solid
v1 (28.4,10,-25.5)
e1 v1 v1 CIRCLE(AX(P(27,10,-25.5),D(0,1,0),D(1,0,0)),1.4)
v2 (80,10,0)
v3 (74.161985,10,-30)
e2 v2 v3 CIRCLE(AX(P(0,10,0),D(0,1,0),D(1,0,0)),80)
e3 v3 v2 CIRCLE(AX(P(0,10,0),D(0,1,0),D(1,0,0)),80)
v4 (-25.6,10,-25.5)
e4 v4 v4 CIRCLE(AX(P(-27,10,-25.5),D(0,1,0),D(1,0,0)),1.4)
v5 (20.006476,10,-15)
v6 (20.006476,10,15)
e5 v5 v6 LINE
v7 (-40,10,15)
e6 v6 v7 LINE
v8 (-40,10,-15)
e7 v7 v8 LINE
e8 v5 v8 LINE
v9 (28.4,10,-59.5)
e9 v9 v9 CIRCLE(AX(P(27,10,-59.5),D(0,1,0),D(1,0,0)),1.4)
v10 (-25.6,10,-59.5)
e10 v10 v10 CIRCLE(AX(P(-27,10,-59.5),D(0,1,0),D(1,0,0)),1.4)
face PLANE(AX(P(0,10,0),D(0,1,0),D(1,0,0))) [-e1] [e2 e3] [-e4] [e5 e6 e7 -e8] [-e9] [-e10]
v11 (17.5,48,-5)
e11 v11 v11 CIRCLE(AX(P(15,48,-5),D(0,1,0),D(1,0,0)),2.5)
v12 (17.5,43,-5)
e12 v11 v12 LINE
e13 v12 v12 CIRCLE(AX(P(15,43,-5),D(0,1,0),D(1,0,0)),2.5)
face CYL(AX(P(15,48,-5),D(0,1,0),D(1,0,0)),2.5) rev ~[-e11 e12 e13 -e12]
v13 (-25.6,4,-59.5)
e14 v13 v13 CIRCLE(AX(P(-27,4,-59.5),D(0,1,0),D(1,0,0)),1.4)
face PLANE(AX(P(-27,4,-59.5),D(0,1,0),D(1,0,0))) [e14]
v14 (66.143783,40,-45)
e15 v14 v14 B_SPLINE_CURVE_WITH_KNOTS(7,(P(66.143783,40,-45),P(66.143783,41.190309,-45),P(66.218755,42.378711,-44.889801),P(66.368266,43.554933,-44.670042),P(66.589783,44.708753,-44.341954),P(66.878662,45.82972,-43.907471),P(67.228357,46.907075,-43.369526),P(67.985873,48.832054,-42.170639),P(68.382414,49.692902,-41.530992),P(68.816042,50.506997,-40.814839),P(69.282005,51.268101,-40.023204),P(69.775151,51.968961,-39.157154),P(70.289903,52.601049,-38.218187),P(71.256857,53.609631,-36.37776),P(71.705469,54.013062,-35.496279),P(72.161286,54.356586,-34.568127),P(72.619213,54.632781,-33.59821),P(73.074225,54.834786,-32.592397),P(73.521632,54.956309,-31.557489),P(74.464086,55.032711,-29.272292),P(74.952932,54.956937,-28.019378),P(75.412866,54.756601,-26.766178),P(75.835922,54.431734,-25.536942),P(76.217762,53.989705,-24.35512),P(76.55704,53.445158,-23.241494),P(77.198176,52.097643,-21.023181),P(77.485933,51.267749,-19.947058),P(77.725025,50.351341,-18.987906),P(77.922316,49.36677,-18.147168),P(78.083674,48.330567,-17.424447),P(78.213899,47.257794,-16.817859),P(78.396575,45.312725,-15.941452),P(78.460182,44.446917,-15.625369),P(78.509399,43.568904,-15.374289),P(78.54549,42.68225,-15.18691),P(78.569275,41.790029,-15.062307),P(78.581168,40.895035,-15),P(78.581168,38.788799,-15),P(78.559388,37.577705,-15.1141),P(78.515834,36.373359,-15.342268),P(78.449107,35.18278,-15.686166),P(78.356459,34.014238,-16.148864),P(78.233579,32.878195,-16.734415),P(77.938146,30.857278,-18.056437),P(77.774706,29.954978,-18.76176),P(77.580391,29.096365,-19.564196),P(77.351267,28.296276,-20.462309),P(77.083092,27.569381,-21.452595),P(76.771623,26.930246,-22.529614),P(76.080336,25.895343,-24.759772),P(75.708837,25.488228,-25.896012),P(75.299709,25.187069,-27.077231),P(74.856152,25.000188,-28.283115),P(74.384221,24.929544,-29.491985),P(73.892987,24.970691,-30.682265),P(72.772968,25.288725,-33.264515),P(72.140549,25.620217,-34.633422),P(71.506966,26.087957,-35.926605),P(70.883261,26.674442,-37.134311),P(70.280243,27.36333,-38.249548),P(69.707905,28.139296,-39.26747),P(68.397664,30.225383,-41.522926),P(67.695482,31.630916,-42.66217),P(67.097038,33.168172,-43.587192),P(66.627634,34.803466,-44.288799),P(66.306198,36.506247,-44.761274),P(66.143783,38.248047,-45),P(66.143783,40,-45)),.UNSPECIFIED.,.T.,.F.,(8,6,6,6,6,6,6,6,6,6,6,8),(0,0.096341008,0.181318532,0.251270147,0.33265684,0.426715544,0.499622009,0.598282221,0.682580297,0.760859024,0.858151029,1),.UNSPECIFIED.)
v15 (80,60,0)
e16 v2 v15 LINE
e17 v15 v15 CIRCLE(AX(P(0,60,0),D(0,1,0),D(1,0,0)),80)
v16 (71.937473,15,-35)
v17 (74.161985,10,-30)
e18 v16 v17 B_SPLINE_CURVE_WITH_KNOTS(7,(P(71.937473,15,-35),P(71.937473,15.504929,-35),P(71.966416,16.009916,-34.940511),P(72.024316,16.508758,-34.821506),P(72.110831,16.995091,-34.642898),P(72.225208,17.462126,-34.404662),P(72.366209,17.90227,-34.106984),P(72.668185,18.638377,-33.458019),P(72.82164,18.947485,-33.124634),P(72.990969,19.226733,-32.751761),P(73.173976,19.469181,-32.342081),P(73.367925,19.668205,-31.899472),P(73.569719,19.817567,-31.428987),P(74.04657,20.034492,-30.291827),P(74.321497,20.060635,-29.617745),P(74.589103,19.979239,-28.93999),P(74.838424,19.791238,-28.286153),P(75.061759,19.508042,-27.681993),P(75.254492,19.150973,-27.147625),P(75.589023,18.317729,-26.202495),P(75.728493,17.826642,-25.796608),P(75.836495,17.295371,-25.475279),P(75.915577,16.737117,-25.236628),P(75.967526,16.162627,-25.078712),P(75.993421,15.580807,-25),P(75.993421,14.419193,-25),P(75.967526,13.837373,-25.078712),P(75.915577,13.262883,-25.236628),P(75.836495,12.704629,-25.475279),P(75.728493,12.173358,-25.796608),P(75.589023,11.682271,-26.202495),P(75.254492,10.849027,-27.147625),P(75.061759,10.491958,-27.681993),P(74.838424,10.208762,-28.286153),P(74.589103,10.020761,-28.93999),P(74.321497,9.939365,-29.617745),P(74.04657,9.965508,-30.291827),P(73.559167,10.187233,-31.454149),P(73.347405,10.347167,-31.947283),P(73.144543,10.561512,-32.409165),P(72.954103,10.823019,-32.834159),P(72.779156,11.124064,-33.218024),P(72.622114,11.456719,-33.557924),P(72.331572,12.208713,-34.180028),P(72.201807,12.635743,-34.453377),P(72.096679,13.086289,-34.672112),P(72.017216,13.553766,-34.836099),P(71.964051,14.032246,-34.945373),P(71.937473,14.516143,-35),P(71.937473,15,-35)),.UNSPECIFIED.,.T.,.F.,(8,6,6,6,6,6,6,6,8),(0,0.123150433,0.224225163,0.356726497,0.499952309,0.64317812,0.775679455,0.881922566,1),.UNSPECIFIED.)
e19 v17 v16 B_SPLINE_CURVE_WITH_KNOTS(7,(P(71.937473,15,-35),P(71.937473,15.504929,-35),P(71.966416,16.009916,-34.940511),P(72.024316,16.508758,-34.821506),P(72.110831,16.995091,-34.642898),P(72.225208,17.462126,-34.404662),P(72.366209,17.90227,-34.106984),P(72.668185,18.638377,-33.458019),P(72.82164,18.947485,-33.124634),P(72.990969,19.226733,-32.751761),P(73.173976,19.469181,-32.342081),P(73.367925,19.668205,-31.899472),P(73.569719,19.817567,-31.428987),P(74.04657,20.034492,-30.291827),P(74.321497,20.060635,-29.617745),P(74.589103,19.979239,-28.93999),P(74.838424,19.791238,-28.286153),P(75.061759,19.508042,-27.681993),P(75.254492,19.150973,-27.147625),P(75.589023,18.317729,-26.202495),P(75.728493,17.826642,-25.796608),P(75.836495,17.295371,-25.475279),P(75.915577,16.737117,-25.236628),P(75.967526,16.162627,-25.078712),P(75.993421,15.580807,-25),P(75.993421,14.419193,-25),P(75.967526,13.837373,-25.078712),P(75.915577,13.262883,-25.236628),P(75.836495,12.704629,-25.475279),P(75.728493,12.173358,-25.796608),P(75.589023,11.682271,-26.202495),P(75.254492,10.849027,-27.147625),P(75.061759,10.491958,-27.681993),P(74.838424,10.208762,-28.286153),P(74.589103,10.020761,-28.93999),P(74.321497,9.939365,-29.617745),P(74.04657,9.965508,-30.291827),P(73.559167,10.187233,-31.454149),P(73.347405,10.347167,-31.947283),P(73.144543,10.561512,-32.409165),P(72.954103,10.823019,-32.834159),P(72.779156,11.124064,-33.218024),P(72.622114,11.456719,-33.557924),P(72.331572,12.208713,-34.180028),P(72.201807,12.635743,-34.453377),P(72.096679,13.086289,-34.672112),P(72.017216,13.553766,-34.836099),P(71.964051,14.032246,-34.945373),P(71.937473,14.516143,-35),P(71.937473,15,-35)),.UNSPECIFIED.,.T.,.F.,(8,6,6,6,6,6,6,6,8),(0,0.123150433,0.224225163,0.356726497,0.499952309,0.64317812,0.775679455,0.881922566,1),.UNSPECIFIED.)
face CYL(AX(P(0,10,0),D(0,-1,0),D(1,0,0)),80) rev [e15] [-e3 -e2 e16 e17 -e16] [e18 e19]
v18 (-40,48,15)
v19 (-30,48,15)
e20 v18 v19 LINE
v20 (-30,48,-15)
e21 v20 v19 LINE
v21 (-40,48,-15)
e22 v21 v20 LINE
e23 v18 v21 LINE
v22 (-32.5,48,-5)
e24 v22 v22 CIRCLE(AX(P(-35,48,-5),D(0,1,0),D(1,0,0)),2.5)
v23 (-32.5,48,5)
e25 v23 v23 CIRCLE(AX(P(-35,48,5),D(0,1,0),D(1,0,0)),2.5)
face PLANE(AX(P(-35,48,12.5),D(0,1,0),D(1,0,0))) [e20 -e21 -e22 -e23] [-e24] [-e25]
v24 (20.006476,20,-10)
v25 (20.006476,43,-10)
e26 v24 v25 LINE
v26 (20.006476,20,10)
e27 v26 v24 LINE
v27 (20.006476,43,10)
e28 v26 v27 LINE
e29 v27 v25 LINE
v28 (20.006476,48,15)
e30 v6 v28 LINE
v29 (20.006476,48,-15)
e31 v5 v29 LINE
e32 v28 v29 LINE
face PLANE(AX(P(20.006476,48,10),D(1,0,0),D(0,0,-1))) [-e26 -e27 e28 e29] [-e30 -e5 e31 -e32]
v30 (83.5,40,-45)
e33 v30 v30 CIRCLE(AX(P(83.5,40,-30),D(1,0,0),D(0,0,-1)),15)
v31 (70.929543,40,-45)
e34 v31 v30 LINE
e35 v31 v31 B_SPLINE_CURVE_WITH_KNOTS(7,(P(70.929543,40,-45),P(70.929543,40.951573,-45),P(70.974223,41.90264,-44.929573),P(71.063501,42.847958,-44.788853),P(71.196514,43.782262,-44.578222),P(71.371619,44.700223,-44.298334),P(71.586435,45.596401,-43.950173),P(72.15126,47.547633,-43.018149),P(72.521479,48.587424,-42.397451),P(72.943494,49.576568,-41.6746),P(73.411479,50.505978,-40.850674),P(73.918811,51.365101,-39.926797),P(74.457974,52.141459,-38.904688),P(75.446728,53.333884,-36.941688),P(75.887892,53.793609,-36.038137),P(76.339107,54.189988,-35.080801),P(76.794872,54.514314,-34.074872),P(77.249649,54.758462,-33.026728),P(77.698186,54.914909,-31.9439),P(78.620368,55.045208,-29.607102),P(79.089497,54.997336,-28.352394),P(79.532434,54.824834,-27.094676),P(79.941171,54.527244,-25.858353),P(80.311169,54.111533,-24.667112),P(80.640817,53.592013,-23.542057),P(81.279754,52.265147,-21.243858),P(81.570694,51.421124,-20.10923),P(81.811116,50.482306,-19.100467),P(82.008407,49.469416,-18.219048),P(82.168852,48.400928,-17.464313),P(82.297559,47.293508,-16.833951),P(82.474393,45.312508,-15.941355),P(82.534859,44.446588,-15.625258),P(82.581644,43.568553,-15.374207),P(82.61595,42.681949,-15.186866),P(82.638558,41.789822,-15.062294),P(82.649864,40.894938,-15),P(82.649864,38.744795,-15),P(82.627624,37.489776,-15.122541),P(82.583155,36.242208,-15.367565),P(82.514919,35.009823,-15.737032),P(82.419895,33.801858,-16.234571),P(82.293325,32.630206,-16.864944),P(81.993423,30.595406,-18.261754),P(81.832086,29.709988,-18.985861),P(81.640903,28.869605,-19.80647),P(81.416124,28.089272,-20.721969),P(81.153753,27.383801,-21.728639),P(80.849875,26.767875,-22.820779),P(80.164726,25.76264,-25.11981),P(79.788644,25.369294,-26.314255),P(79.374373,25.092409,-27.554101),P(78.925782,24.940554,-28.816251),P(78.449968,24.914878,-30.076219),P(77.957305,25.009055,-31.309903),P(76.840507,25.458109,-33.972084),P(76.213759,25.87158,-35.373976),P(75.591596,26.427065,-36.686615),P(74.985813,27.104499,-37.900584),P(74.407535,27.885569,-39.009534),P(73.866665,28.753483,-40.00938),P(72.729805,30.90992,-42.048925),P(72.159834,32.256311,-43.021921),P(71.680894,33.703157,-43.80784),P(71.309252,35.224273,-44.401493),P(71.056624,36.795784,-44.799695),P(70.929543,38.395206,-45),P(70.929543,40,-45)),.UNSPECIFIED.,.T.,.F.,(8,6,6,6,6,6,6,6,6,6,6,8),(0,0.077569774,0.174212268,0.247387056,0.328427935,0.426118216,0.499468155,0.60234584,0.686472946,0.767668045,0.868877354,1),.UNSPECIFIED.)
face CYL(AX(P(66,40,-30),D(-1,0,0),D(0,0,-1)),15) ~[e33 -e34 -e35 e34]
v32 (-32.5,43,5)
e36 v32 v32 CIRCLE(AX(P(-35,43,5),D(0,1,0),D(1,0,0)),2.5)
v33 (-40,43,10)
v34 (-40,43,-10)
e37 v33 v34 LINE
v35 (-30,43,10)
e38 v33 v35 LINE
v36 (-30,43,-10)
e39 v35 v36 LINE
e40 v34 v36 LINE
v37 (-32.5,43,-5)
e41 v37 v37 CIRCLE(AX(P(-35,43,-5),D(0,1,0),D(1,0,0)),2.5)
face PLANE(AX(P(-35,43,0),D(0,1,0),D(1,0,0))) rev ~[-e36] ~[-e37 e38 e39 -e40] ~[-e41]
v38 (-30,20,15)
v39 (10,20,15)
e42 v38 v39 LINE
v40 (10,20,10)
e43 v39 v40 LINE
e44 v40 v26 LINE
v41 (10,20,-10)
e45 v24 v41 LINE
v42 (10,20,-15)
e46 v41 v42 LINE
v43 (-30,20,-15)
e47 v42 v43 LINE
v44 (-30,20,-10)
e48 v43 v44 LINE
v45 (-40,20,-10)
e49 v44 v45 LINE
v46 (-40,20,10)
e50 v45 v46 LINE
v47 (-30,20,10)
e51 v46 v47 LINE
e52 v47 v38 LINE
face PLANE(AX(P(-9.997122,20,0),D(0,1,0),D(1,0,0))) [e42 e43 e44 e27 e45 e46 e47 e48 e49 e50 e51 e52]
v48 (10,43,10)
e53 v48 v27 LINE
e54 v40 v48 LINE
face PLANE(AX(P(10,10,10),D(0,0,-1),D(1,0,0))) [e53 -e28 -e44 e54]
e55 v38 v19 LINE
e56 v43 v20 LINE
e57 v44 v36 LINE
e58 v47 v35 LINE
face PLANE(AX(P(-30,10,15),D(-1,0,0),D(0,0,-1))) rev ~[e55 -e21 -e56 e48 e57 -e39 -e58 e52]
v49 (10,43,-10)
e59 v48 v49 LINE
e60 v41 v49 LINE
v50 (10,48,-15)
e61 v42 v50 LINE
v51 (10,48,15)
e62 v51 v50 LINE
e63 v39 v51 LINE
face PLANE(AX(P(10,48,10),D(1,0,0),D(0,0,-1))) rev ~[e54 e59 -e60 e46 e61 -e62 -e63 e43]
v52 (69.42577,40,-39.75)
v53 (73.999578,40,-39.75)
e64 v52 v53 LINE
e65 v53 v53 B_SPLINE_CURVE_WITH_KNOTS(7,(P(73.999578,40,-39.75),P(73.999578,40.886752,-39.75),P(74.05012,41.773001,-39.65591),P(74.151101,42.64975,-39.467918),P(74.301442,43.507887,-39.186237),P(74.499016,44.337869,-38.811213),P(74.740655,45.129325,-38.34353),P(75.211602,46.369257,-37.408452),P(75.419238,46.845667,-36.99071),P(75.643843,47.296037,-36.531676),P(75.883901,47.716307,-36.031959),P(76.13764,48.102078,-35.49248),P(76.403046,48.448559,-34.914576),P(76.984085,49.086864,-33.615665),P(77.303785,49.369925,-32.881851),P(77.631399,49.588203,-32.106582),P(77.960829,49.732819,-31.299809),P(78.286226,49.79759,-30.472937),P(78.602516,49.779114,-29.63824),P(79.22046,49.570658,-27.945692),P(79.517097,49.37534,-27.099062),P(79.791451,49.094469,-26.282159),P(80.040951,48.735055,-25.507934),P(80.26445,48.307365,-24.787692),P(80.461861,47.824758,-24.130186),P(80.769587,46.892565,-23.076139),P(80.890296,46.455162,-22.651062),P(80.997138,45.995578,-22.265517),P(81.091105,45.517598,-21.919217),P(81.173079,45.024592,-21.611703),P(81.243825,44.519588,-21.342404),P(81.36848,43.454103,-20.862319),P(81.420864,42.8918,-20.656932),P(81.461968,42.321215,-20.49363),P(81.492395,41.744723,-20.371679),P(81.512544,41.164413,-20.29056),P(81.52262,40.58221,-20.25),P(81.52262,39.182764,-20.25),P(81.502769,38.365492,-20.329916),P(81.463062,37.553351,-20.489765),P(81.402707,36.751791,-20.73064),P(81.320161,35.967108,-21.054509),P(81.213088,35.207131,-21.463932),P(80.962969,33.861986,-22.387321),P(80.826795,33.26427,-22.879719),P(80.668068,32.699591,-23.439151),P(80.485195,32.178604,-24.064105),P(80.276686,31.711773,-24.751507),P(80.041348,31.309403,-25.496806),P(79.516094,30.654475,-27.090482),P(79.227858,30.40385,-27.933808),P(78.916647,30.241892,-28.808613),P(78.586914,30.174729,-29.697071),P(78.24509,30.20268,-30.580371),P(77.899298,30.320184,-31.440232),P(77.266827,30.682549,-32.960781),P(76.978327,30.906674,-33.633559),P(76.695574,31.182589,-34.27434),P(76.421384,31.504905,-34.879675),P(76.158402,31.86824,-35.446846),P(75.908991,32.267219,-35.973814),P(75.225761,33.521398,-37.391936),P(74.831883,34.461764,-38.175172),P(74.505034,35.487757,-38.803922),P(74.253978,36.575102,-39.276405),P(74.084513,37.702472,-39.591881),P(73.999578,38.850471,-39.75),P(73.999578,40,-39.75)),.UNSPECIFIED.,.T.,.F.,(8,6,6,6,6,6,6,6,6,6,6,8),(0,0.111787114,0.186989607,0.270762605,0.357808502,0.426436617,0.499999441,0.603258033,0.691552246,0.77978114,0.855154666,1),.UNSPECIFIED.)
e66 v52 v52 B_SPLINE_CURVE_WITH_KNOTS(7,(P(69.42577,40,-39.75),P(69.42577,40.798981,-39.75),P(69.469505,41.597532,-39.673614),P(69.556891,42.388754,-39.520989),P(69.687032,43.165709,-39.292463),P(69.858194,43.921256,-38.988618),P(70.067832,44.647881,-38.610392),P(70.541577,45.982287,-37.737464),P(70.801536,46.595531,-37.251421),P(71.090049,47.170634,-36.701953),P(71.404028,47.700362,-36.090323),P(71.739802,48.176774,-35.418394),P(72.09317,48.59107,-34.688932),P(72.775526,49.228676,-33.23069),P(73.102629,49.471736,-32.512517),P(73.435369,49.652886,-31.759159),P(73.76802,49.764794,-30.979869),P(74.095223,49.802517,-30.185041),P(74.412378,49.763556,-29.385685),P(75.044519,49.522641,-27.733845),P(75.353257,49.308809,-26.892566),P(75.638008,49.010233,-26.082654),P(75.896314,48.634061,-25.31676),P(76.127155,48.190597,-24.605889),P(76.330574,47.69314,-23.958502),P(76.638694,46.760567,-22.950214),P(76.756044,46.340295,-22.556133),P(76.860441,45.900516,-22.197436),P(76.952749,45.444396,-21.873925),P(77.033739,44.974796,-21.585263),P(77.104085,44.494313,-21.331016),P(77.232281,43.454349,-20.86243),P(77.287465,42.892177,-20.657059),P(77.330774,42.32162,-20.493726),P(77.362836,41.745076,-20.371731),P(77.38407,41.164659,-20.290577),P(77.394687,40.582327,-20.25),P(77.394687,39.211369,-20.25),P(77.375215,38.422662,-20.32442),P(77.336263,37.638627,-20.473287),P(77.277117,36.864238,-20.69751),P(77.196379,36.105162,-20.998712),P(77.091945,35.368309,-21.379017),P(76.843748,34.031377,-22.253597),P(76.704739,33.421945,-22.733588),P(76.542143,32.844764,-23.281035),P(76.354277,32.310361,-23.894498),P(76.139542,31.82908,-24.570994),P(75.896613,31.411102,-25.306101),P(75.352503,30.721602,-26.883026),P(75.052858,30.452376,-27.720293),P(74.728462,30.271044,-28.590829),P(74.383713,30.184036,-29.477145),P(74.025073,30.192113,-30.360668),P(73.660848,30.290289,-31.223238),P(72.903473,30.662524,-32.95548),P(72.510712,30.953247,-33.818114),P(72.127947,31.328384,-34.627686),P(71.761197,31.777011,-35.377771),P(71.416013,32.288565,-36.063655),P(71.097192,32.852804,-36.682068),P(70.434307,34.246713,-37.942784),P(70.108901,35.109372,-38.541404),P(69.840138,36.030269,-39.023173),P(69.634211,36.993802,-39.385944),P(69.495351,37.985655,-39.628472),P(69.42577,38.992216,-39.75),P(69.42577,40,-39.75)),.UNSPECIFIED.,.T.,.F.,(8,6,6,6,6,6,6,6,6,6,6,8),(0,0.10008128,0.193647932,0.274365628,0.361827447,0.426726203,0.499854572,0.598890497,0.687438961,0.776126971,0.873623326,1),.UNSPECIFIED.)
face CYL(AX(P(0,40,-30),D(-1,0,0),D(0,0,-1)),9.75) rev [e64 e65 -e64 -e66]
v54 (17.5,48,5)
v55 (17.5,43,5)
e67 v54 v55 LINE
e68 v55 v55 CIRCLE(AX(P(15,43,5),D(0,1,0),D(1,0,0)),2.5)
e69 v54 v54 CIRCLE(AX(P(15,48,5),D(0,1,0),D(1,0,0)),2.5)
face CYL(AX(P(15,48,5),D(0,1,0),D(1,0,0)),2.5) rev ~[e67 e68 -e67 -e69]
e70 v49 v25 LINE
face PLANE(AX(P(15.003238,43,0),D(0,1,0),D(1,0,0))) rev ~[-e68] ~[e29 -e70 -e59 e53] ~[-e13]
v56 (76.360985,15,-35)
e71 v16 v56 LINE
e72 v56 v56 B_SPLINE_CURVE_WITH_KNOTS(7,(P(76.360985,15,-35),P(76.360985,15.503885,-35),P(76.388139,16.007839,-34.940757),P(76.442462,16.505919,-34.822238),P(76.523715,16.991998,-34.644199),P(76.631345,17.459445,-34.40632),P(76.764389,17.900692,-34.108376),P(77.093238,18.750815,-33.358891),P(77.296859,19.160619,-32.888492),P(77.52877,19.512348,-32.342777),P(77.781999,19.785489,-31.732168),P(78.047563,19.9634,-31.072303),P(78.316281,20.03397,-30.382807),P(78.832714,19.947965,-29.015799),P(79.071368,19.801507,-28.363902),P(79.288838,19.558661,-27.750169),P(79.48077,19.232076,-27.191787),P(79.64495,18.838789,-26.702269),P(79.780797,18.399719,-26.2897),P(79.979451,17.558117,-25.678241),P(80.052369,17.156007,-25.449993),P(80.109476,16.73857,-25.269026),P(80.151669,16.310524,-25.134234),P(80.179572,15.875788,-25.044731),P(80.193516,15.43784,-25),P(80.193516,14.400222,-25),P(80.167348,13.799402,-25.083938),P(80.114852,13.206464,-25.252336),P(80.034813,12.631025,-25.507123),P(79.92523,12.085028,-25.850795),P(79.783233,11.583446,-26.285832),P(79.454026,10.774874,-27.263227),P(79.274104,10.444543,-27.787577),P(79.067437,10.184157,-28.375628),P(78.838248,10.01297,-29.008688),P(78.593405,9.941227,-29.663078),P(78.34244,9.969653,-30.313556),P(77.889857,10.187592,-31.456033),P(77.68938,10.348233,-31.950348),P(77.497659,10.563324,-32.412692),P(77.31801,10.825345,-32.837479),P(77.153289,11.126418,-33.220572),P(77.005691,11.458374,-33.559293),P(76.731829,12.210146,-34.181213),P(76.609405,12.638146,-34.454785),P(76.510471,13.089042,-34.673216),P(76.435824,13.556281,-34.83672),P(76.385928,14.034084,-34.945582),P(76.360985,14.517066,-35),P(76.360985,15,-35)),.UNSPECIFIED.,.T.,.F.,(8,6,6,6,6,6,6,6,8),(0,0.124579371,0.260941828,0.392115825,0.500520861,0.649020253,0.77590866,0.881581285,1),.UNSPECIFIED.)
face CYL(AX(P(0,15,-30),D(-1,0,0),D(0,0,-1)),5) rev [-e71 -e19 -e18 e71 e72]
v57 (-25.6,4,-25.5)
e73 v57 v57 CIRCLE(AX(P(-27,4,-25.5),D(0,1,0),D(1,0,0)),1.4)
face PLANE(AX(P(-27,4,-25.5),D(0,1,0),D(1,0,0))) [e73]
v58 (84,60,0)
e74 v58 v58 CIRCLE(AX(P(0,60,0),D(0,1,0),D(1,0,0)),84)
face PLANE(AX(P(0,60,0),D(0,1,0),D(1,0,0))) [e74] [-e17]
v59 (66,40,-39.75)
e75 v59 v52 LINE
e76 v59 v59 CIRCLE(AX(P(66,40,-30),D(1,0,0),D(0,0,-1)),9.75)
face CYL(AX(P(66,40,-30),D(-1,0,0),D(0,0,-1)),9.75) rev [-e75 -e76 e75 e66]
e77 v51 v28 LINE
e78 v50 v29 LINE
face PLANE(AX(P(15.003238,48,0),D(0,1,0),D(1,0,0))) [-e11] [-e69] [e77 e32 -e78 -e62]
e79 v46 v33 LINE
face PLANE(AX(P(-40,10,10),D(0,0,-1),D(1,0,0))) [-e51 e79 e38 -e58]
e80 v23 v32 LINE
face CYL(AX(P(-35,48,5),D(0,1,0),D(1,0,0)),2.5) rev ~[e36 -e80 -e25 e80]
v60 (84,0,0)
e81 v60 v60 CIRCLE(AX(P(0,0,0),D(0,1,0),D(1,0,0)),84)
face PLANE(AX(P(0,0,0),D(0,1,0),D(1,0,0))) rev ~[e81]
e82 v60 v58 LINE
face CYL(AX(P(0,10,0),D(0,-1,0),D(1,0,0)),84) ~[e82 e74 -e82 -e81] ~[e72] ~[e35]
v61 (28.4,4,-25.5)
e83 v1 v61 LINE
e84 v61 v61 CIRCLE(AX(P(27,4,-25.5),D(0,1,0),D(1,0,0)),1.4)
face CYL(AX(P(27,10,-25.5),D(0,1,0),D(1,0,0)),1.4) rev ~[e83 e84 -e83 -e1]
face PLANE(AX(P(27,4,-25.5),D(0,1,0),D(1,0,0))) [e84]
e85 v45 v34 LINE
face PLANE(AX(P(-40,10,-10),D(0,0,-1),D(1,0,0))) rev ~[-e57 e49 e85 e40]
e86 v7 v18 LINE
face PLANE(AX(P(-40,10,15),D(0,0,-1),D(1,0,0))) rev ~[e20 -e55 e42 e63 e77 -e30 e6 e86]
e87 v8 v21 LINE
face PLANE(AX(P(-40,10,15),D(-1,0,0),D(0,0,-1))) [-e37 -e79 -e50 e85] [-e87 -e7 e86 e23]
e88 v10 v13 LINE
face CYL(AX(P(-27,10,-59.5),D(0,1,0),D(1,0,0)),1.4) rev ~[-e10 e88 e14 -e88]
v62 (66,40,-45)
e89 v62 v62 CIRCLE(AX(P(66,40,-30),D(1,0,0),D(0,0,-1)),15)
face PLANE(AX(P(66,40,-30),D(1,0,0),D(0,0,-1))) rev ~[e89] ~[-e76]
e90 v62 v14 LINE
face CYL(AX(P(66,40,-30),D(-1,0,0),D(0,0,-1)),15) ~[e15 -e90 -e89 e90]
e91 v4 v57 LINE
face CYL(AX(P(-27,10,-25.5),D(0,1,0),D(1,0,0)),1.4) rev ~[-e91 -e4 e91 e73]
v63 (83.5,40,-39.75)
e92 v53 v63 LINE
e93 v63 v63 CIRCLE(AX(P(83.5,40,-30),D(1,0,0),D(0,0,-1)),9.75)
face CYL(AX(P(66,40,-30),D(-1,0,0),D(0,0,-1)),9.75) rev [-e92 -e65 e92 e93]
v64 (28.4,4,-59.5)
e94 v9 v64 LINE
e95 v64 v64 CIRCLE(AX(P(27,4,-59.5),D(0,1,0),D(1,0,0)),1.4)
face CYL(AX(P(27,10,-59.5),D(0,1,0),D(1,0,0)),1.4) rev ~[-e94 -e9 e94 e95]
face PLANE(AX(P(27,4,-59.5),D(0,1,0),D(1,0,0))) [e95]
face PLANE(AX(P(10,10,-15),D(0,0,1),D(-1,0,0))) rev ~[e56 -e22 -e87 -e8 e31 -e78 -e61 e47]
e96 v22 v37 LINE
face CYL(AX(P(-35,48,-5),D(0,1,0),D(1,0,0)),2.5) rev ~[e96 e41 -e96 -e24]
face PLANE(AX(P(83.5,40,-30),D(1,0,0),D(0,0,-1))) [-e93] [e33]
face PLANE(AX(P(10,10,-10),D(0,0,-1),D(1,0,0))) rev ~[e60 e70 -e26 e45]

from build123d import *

# Parameters (mm, degrees)
SKETCH1_R                   = 84
BASE_DEPTH                  = 10
SKETCH2_R                   = 84
SKETCH2_R_2                 = 80
WALLS_DEPTH                 = 50
SKETCH3_W                   = 10.006475694
SKETCH3_H                   = 5
MOTOR_MOUNT_1_DEPTH         = 38
SKETCH3_5_W                 = 10
SKETCH3_5_H                 = 5
MOTOR_MOUNT_2_DEPTH         = 38
SKETCH6_W                   = 10.006475694
SKETCH6_H                   = 20
SKETCH6_R                   = 2.5
SKETCH6_W_2                 = 10
MOTOR_SCREW_HOLES_DEPTH     = 5
SKETCH7_R                   = 1.4
PERFBOARD_SCREW_HOLES_DEPTH = 6
BOSS_EXTRUDE1_DEPTH         = 10
SKETCH10_R                  = 9.75
SKETCH10_R_2                = 5
CUT_EXTRUDE1_DEPTH          = 134.086438077
BOSS_EXTRUDE2_START         = 66
SKETCH10_3_R                = 15
SKETCH10_3_R_2              = 9.75
BOSS_EXTRUDE2_DEPTH         = 17.5


with BuildPart() as part:
    # Sketch1 → base (new body)
    with BuildSketch(Plane(origin=(0, 0, 0), x_dir=(1, 0, 0), z_dir=(0, 1, 0))):
        Circle(SKETCH1_R)
    extrude(amount=BASE_DEPTH)

    # Sketch2 → walls (add)
    with BuildSketch(Plane(origin=(0, 10, 0), x_dir=(1, 0, 0), z_dir=(0, 1, 0))):
        Circle(SKETCH2_R)
        Circle(SKETCH2_R_2, mode=Mode.SUBTRACT)
    extrude(amount=WALLS_DEPTH)

    # Sketch3 → motor mount 1 (add)
    with BuildSketch(Plane(origin=(0, 10, 0), x_dir=(1, 0, 0), z_dir=(0, 1, 0))):
        with Locations((15.003237847, -12.5)):
            Rectangle(SKETCH3_W, SKETCH3_H)
        with Locations((15.003237847, 12.5)):
            Rectangle(SKETCH3_W, SKETCH3_H)
    extrude(amount=MOTOR_MOUNT_1_DEPTH)

    # Sketch3<5> → motor mount 2 (add)
    with BuildSketch(Plane(origin=(0, 10, 0), x_dir=(1, 0, 0), z_dir=(0, 1, 0))):
        with Locations((-35, -12.5)):
            Rectangle(SKETCH3_5_W, SKETCH3_5_H)
        with Locations((-35, 12.5)):
            Rectangle(SKETCH3_5_W, SKETCH3_5_H)
    extrude(amount=MOTOR_MOUNT_2_DEPTH)

    # Sketch6 → motor screw holes (add)
    # profile 1 of 2: a face of its own
    with BuildSketch(Plane(origin=(0, 48, 0), x_dir=(1, 0, 0), z_dir=(0, 1, 0))):
        with Locations((15.003237847, 0)):
            Rectangle(SKETCH6_W, SKETCH6_H)
        with Locations((15, 5)):
            Circle(SKETCH6_R, mode=Mode.SUBTRACT)
        with Locations((15, -5)):
            Circle(SKETCH6_R, mode=Mode.SUBTRACT)
    # profile 2 of 2: a face of its own
    with BuildSketch(Plane(origin=(0, 48, 0), x_dir=(1, 0, 0), z_dir=(0, 1, 0))):
        with Locations((-35, 0)):
            Rectangle(SKETCH6_W_2, SKETCH6_H)
        with Locations((-35, 5)):
            Circle(SKETCH6_R, mode=Mode.SUBTRACT)
        with Locations((-35, -5)):
            Circle(SKETCH6_R, mode=Mode.SUBTRACT)
    extrude(amount=-MOTOR_SCREW_HOLES_DEPTH)

    # Sketch7 → perfboard screw holes (cut)
    with BuildSketch(Plane(origin=(0, 10, 0), x_dir=(1, 0, 0), z_dir=(0, 1, 0))):
        with Locations((-27, 59.5)):
            Circle(SKETCH7_R)
        with Locations((-27, 25.5)):
            Circle(SKETCH7_R)
        with Locations((27, 25.5)):
            Circle(SKETCH7_R)
        with Locations((27, 59.5)):
            Circle(SKETCH7_R)
    extrude(amount=-PERFBOARD_SCREW_HOLES_DEPTH, mode=Mode.SUBTRACT)

    # Sketch9 → Boss-Extrude1 (add)
    with BuildSketch(Plane(origin=(0, 10, 0), x_dir=(1, 0, 0), z_dir=(0, 1, 0))):
        Polygon((10, 15), (-30, 15), (-30, 10), (-40, 10), (-40, -10), (-30, -10), (-30, -15), (10, -15), (10, -10), (20.006475694, -10), (20.006475694, 10), (10, 10), align=None)
    extrude(amount=BOSS_EXTRUDE1_DEPTH)

    # Sketch10 → Cut-Extrude1 (cut, through all)
    with BuildSketch(Plane(origin=(0, 0, 0), x_dir=(0, 0, -1), z_dir=(1, 0, 0))):
        with Locations((30, 40)):
            Circle(SKETCH10_R)
        with Locations((30, 15)):
            Circle(SKETCH10_R_2)
    extrude(amount=CUT_EXTRUDE1_DEPTH, mode=Mode.SUBTRACT)

    # Sketch10<3> → Boss-Extrude2 (add)
    with BuildSketch(Plane(origin=(0, 0, 0), x_dir=(0, 0, -1), z_dir=(1, 0, 0)).offset(BOSS_EXTRUDE2_START)):
        with Locations((30, 40)):
            Circle(SKETCH10_3_R)
        with Locations((30, 40)):
            Circle(SKETCH10_3_R_2, mode=Mode.SUBTRACT)
    extrude(amount=BOSS_EXTRUDE2_DEPTH)


solid = part.part
